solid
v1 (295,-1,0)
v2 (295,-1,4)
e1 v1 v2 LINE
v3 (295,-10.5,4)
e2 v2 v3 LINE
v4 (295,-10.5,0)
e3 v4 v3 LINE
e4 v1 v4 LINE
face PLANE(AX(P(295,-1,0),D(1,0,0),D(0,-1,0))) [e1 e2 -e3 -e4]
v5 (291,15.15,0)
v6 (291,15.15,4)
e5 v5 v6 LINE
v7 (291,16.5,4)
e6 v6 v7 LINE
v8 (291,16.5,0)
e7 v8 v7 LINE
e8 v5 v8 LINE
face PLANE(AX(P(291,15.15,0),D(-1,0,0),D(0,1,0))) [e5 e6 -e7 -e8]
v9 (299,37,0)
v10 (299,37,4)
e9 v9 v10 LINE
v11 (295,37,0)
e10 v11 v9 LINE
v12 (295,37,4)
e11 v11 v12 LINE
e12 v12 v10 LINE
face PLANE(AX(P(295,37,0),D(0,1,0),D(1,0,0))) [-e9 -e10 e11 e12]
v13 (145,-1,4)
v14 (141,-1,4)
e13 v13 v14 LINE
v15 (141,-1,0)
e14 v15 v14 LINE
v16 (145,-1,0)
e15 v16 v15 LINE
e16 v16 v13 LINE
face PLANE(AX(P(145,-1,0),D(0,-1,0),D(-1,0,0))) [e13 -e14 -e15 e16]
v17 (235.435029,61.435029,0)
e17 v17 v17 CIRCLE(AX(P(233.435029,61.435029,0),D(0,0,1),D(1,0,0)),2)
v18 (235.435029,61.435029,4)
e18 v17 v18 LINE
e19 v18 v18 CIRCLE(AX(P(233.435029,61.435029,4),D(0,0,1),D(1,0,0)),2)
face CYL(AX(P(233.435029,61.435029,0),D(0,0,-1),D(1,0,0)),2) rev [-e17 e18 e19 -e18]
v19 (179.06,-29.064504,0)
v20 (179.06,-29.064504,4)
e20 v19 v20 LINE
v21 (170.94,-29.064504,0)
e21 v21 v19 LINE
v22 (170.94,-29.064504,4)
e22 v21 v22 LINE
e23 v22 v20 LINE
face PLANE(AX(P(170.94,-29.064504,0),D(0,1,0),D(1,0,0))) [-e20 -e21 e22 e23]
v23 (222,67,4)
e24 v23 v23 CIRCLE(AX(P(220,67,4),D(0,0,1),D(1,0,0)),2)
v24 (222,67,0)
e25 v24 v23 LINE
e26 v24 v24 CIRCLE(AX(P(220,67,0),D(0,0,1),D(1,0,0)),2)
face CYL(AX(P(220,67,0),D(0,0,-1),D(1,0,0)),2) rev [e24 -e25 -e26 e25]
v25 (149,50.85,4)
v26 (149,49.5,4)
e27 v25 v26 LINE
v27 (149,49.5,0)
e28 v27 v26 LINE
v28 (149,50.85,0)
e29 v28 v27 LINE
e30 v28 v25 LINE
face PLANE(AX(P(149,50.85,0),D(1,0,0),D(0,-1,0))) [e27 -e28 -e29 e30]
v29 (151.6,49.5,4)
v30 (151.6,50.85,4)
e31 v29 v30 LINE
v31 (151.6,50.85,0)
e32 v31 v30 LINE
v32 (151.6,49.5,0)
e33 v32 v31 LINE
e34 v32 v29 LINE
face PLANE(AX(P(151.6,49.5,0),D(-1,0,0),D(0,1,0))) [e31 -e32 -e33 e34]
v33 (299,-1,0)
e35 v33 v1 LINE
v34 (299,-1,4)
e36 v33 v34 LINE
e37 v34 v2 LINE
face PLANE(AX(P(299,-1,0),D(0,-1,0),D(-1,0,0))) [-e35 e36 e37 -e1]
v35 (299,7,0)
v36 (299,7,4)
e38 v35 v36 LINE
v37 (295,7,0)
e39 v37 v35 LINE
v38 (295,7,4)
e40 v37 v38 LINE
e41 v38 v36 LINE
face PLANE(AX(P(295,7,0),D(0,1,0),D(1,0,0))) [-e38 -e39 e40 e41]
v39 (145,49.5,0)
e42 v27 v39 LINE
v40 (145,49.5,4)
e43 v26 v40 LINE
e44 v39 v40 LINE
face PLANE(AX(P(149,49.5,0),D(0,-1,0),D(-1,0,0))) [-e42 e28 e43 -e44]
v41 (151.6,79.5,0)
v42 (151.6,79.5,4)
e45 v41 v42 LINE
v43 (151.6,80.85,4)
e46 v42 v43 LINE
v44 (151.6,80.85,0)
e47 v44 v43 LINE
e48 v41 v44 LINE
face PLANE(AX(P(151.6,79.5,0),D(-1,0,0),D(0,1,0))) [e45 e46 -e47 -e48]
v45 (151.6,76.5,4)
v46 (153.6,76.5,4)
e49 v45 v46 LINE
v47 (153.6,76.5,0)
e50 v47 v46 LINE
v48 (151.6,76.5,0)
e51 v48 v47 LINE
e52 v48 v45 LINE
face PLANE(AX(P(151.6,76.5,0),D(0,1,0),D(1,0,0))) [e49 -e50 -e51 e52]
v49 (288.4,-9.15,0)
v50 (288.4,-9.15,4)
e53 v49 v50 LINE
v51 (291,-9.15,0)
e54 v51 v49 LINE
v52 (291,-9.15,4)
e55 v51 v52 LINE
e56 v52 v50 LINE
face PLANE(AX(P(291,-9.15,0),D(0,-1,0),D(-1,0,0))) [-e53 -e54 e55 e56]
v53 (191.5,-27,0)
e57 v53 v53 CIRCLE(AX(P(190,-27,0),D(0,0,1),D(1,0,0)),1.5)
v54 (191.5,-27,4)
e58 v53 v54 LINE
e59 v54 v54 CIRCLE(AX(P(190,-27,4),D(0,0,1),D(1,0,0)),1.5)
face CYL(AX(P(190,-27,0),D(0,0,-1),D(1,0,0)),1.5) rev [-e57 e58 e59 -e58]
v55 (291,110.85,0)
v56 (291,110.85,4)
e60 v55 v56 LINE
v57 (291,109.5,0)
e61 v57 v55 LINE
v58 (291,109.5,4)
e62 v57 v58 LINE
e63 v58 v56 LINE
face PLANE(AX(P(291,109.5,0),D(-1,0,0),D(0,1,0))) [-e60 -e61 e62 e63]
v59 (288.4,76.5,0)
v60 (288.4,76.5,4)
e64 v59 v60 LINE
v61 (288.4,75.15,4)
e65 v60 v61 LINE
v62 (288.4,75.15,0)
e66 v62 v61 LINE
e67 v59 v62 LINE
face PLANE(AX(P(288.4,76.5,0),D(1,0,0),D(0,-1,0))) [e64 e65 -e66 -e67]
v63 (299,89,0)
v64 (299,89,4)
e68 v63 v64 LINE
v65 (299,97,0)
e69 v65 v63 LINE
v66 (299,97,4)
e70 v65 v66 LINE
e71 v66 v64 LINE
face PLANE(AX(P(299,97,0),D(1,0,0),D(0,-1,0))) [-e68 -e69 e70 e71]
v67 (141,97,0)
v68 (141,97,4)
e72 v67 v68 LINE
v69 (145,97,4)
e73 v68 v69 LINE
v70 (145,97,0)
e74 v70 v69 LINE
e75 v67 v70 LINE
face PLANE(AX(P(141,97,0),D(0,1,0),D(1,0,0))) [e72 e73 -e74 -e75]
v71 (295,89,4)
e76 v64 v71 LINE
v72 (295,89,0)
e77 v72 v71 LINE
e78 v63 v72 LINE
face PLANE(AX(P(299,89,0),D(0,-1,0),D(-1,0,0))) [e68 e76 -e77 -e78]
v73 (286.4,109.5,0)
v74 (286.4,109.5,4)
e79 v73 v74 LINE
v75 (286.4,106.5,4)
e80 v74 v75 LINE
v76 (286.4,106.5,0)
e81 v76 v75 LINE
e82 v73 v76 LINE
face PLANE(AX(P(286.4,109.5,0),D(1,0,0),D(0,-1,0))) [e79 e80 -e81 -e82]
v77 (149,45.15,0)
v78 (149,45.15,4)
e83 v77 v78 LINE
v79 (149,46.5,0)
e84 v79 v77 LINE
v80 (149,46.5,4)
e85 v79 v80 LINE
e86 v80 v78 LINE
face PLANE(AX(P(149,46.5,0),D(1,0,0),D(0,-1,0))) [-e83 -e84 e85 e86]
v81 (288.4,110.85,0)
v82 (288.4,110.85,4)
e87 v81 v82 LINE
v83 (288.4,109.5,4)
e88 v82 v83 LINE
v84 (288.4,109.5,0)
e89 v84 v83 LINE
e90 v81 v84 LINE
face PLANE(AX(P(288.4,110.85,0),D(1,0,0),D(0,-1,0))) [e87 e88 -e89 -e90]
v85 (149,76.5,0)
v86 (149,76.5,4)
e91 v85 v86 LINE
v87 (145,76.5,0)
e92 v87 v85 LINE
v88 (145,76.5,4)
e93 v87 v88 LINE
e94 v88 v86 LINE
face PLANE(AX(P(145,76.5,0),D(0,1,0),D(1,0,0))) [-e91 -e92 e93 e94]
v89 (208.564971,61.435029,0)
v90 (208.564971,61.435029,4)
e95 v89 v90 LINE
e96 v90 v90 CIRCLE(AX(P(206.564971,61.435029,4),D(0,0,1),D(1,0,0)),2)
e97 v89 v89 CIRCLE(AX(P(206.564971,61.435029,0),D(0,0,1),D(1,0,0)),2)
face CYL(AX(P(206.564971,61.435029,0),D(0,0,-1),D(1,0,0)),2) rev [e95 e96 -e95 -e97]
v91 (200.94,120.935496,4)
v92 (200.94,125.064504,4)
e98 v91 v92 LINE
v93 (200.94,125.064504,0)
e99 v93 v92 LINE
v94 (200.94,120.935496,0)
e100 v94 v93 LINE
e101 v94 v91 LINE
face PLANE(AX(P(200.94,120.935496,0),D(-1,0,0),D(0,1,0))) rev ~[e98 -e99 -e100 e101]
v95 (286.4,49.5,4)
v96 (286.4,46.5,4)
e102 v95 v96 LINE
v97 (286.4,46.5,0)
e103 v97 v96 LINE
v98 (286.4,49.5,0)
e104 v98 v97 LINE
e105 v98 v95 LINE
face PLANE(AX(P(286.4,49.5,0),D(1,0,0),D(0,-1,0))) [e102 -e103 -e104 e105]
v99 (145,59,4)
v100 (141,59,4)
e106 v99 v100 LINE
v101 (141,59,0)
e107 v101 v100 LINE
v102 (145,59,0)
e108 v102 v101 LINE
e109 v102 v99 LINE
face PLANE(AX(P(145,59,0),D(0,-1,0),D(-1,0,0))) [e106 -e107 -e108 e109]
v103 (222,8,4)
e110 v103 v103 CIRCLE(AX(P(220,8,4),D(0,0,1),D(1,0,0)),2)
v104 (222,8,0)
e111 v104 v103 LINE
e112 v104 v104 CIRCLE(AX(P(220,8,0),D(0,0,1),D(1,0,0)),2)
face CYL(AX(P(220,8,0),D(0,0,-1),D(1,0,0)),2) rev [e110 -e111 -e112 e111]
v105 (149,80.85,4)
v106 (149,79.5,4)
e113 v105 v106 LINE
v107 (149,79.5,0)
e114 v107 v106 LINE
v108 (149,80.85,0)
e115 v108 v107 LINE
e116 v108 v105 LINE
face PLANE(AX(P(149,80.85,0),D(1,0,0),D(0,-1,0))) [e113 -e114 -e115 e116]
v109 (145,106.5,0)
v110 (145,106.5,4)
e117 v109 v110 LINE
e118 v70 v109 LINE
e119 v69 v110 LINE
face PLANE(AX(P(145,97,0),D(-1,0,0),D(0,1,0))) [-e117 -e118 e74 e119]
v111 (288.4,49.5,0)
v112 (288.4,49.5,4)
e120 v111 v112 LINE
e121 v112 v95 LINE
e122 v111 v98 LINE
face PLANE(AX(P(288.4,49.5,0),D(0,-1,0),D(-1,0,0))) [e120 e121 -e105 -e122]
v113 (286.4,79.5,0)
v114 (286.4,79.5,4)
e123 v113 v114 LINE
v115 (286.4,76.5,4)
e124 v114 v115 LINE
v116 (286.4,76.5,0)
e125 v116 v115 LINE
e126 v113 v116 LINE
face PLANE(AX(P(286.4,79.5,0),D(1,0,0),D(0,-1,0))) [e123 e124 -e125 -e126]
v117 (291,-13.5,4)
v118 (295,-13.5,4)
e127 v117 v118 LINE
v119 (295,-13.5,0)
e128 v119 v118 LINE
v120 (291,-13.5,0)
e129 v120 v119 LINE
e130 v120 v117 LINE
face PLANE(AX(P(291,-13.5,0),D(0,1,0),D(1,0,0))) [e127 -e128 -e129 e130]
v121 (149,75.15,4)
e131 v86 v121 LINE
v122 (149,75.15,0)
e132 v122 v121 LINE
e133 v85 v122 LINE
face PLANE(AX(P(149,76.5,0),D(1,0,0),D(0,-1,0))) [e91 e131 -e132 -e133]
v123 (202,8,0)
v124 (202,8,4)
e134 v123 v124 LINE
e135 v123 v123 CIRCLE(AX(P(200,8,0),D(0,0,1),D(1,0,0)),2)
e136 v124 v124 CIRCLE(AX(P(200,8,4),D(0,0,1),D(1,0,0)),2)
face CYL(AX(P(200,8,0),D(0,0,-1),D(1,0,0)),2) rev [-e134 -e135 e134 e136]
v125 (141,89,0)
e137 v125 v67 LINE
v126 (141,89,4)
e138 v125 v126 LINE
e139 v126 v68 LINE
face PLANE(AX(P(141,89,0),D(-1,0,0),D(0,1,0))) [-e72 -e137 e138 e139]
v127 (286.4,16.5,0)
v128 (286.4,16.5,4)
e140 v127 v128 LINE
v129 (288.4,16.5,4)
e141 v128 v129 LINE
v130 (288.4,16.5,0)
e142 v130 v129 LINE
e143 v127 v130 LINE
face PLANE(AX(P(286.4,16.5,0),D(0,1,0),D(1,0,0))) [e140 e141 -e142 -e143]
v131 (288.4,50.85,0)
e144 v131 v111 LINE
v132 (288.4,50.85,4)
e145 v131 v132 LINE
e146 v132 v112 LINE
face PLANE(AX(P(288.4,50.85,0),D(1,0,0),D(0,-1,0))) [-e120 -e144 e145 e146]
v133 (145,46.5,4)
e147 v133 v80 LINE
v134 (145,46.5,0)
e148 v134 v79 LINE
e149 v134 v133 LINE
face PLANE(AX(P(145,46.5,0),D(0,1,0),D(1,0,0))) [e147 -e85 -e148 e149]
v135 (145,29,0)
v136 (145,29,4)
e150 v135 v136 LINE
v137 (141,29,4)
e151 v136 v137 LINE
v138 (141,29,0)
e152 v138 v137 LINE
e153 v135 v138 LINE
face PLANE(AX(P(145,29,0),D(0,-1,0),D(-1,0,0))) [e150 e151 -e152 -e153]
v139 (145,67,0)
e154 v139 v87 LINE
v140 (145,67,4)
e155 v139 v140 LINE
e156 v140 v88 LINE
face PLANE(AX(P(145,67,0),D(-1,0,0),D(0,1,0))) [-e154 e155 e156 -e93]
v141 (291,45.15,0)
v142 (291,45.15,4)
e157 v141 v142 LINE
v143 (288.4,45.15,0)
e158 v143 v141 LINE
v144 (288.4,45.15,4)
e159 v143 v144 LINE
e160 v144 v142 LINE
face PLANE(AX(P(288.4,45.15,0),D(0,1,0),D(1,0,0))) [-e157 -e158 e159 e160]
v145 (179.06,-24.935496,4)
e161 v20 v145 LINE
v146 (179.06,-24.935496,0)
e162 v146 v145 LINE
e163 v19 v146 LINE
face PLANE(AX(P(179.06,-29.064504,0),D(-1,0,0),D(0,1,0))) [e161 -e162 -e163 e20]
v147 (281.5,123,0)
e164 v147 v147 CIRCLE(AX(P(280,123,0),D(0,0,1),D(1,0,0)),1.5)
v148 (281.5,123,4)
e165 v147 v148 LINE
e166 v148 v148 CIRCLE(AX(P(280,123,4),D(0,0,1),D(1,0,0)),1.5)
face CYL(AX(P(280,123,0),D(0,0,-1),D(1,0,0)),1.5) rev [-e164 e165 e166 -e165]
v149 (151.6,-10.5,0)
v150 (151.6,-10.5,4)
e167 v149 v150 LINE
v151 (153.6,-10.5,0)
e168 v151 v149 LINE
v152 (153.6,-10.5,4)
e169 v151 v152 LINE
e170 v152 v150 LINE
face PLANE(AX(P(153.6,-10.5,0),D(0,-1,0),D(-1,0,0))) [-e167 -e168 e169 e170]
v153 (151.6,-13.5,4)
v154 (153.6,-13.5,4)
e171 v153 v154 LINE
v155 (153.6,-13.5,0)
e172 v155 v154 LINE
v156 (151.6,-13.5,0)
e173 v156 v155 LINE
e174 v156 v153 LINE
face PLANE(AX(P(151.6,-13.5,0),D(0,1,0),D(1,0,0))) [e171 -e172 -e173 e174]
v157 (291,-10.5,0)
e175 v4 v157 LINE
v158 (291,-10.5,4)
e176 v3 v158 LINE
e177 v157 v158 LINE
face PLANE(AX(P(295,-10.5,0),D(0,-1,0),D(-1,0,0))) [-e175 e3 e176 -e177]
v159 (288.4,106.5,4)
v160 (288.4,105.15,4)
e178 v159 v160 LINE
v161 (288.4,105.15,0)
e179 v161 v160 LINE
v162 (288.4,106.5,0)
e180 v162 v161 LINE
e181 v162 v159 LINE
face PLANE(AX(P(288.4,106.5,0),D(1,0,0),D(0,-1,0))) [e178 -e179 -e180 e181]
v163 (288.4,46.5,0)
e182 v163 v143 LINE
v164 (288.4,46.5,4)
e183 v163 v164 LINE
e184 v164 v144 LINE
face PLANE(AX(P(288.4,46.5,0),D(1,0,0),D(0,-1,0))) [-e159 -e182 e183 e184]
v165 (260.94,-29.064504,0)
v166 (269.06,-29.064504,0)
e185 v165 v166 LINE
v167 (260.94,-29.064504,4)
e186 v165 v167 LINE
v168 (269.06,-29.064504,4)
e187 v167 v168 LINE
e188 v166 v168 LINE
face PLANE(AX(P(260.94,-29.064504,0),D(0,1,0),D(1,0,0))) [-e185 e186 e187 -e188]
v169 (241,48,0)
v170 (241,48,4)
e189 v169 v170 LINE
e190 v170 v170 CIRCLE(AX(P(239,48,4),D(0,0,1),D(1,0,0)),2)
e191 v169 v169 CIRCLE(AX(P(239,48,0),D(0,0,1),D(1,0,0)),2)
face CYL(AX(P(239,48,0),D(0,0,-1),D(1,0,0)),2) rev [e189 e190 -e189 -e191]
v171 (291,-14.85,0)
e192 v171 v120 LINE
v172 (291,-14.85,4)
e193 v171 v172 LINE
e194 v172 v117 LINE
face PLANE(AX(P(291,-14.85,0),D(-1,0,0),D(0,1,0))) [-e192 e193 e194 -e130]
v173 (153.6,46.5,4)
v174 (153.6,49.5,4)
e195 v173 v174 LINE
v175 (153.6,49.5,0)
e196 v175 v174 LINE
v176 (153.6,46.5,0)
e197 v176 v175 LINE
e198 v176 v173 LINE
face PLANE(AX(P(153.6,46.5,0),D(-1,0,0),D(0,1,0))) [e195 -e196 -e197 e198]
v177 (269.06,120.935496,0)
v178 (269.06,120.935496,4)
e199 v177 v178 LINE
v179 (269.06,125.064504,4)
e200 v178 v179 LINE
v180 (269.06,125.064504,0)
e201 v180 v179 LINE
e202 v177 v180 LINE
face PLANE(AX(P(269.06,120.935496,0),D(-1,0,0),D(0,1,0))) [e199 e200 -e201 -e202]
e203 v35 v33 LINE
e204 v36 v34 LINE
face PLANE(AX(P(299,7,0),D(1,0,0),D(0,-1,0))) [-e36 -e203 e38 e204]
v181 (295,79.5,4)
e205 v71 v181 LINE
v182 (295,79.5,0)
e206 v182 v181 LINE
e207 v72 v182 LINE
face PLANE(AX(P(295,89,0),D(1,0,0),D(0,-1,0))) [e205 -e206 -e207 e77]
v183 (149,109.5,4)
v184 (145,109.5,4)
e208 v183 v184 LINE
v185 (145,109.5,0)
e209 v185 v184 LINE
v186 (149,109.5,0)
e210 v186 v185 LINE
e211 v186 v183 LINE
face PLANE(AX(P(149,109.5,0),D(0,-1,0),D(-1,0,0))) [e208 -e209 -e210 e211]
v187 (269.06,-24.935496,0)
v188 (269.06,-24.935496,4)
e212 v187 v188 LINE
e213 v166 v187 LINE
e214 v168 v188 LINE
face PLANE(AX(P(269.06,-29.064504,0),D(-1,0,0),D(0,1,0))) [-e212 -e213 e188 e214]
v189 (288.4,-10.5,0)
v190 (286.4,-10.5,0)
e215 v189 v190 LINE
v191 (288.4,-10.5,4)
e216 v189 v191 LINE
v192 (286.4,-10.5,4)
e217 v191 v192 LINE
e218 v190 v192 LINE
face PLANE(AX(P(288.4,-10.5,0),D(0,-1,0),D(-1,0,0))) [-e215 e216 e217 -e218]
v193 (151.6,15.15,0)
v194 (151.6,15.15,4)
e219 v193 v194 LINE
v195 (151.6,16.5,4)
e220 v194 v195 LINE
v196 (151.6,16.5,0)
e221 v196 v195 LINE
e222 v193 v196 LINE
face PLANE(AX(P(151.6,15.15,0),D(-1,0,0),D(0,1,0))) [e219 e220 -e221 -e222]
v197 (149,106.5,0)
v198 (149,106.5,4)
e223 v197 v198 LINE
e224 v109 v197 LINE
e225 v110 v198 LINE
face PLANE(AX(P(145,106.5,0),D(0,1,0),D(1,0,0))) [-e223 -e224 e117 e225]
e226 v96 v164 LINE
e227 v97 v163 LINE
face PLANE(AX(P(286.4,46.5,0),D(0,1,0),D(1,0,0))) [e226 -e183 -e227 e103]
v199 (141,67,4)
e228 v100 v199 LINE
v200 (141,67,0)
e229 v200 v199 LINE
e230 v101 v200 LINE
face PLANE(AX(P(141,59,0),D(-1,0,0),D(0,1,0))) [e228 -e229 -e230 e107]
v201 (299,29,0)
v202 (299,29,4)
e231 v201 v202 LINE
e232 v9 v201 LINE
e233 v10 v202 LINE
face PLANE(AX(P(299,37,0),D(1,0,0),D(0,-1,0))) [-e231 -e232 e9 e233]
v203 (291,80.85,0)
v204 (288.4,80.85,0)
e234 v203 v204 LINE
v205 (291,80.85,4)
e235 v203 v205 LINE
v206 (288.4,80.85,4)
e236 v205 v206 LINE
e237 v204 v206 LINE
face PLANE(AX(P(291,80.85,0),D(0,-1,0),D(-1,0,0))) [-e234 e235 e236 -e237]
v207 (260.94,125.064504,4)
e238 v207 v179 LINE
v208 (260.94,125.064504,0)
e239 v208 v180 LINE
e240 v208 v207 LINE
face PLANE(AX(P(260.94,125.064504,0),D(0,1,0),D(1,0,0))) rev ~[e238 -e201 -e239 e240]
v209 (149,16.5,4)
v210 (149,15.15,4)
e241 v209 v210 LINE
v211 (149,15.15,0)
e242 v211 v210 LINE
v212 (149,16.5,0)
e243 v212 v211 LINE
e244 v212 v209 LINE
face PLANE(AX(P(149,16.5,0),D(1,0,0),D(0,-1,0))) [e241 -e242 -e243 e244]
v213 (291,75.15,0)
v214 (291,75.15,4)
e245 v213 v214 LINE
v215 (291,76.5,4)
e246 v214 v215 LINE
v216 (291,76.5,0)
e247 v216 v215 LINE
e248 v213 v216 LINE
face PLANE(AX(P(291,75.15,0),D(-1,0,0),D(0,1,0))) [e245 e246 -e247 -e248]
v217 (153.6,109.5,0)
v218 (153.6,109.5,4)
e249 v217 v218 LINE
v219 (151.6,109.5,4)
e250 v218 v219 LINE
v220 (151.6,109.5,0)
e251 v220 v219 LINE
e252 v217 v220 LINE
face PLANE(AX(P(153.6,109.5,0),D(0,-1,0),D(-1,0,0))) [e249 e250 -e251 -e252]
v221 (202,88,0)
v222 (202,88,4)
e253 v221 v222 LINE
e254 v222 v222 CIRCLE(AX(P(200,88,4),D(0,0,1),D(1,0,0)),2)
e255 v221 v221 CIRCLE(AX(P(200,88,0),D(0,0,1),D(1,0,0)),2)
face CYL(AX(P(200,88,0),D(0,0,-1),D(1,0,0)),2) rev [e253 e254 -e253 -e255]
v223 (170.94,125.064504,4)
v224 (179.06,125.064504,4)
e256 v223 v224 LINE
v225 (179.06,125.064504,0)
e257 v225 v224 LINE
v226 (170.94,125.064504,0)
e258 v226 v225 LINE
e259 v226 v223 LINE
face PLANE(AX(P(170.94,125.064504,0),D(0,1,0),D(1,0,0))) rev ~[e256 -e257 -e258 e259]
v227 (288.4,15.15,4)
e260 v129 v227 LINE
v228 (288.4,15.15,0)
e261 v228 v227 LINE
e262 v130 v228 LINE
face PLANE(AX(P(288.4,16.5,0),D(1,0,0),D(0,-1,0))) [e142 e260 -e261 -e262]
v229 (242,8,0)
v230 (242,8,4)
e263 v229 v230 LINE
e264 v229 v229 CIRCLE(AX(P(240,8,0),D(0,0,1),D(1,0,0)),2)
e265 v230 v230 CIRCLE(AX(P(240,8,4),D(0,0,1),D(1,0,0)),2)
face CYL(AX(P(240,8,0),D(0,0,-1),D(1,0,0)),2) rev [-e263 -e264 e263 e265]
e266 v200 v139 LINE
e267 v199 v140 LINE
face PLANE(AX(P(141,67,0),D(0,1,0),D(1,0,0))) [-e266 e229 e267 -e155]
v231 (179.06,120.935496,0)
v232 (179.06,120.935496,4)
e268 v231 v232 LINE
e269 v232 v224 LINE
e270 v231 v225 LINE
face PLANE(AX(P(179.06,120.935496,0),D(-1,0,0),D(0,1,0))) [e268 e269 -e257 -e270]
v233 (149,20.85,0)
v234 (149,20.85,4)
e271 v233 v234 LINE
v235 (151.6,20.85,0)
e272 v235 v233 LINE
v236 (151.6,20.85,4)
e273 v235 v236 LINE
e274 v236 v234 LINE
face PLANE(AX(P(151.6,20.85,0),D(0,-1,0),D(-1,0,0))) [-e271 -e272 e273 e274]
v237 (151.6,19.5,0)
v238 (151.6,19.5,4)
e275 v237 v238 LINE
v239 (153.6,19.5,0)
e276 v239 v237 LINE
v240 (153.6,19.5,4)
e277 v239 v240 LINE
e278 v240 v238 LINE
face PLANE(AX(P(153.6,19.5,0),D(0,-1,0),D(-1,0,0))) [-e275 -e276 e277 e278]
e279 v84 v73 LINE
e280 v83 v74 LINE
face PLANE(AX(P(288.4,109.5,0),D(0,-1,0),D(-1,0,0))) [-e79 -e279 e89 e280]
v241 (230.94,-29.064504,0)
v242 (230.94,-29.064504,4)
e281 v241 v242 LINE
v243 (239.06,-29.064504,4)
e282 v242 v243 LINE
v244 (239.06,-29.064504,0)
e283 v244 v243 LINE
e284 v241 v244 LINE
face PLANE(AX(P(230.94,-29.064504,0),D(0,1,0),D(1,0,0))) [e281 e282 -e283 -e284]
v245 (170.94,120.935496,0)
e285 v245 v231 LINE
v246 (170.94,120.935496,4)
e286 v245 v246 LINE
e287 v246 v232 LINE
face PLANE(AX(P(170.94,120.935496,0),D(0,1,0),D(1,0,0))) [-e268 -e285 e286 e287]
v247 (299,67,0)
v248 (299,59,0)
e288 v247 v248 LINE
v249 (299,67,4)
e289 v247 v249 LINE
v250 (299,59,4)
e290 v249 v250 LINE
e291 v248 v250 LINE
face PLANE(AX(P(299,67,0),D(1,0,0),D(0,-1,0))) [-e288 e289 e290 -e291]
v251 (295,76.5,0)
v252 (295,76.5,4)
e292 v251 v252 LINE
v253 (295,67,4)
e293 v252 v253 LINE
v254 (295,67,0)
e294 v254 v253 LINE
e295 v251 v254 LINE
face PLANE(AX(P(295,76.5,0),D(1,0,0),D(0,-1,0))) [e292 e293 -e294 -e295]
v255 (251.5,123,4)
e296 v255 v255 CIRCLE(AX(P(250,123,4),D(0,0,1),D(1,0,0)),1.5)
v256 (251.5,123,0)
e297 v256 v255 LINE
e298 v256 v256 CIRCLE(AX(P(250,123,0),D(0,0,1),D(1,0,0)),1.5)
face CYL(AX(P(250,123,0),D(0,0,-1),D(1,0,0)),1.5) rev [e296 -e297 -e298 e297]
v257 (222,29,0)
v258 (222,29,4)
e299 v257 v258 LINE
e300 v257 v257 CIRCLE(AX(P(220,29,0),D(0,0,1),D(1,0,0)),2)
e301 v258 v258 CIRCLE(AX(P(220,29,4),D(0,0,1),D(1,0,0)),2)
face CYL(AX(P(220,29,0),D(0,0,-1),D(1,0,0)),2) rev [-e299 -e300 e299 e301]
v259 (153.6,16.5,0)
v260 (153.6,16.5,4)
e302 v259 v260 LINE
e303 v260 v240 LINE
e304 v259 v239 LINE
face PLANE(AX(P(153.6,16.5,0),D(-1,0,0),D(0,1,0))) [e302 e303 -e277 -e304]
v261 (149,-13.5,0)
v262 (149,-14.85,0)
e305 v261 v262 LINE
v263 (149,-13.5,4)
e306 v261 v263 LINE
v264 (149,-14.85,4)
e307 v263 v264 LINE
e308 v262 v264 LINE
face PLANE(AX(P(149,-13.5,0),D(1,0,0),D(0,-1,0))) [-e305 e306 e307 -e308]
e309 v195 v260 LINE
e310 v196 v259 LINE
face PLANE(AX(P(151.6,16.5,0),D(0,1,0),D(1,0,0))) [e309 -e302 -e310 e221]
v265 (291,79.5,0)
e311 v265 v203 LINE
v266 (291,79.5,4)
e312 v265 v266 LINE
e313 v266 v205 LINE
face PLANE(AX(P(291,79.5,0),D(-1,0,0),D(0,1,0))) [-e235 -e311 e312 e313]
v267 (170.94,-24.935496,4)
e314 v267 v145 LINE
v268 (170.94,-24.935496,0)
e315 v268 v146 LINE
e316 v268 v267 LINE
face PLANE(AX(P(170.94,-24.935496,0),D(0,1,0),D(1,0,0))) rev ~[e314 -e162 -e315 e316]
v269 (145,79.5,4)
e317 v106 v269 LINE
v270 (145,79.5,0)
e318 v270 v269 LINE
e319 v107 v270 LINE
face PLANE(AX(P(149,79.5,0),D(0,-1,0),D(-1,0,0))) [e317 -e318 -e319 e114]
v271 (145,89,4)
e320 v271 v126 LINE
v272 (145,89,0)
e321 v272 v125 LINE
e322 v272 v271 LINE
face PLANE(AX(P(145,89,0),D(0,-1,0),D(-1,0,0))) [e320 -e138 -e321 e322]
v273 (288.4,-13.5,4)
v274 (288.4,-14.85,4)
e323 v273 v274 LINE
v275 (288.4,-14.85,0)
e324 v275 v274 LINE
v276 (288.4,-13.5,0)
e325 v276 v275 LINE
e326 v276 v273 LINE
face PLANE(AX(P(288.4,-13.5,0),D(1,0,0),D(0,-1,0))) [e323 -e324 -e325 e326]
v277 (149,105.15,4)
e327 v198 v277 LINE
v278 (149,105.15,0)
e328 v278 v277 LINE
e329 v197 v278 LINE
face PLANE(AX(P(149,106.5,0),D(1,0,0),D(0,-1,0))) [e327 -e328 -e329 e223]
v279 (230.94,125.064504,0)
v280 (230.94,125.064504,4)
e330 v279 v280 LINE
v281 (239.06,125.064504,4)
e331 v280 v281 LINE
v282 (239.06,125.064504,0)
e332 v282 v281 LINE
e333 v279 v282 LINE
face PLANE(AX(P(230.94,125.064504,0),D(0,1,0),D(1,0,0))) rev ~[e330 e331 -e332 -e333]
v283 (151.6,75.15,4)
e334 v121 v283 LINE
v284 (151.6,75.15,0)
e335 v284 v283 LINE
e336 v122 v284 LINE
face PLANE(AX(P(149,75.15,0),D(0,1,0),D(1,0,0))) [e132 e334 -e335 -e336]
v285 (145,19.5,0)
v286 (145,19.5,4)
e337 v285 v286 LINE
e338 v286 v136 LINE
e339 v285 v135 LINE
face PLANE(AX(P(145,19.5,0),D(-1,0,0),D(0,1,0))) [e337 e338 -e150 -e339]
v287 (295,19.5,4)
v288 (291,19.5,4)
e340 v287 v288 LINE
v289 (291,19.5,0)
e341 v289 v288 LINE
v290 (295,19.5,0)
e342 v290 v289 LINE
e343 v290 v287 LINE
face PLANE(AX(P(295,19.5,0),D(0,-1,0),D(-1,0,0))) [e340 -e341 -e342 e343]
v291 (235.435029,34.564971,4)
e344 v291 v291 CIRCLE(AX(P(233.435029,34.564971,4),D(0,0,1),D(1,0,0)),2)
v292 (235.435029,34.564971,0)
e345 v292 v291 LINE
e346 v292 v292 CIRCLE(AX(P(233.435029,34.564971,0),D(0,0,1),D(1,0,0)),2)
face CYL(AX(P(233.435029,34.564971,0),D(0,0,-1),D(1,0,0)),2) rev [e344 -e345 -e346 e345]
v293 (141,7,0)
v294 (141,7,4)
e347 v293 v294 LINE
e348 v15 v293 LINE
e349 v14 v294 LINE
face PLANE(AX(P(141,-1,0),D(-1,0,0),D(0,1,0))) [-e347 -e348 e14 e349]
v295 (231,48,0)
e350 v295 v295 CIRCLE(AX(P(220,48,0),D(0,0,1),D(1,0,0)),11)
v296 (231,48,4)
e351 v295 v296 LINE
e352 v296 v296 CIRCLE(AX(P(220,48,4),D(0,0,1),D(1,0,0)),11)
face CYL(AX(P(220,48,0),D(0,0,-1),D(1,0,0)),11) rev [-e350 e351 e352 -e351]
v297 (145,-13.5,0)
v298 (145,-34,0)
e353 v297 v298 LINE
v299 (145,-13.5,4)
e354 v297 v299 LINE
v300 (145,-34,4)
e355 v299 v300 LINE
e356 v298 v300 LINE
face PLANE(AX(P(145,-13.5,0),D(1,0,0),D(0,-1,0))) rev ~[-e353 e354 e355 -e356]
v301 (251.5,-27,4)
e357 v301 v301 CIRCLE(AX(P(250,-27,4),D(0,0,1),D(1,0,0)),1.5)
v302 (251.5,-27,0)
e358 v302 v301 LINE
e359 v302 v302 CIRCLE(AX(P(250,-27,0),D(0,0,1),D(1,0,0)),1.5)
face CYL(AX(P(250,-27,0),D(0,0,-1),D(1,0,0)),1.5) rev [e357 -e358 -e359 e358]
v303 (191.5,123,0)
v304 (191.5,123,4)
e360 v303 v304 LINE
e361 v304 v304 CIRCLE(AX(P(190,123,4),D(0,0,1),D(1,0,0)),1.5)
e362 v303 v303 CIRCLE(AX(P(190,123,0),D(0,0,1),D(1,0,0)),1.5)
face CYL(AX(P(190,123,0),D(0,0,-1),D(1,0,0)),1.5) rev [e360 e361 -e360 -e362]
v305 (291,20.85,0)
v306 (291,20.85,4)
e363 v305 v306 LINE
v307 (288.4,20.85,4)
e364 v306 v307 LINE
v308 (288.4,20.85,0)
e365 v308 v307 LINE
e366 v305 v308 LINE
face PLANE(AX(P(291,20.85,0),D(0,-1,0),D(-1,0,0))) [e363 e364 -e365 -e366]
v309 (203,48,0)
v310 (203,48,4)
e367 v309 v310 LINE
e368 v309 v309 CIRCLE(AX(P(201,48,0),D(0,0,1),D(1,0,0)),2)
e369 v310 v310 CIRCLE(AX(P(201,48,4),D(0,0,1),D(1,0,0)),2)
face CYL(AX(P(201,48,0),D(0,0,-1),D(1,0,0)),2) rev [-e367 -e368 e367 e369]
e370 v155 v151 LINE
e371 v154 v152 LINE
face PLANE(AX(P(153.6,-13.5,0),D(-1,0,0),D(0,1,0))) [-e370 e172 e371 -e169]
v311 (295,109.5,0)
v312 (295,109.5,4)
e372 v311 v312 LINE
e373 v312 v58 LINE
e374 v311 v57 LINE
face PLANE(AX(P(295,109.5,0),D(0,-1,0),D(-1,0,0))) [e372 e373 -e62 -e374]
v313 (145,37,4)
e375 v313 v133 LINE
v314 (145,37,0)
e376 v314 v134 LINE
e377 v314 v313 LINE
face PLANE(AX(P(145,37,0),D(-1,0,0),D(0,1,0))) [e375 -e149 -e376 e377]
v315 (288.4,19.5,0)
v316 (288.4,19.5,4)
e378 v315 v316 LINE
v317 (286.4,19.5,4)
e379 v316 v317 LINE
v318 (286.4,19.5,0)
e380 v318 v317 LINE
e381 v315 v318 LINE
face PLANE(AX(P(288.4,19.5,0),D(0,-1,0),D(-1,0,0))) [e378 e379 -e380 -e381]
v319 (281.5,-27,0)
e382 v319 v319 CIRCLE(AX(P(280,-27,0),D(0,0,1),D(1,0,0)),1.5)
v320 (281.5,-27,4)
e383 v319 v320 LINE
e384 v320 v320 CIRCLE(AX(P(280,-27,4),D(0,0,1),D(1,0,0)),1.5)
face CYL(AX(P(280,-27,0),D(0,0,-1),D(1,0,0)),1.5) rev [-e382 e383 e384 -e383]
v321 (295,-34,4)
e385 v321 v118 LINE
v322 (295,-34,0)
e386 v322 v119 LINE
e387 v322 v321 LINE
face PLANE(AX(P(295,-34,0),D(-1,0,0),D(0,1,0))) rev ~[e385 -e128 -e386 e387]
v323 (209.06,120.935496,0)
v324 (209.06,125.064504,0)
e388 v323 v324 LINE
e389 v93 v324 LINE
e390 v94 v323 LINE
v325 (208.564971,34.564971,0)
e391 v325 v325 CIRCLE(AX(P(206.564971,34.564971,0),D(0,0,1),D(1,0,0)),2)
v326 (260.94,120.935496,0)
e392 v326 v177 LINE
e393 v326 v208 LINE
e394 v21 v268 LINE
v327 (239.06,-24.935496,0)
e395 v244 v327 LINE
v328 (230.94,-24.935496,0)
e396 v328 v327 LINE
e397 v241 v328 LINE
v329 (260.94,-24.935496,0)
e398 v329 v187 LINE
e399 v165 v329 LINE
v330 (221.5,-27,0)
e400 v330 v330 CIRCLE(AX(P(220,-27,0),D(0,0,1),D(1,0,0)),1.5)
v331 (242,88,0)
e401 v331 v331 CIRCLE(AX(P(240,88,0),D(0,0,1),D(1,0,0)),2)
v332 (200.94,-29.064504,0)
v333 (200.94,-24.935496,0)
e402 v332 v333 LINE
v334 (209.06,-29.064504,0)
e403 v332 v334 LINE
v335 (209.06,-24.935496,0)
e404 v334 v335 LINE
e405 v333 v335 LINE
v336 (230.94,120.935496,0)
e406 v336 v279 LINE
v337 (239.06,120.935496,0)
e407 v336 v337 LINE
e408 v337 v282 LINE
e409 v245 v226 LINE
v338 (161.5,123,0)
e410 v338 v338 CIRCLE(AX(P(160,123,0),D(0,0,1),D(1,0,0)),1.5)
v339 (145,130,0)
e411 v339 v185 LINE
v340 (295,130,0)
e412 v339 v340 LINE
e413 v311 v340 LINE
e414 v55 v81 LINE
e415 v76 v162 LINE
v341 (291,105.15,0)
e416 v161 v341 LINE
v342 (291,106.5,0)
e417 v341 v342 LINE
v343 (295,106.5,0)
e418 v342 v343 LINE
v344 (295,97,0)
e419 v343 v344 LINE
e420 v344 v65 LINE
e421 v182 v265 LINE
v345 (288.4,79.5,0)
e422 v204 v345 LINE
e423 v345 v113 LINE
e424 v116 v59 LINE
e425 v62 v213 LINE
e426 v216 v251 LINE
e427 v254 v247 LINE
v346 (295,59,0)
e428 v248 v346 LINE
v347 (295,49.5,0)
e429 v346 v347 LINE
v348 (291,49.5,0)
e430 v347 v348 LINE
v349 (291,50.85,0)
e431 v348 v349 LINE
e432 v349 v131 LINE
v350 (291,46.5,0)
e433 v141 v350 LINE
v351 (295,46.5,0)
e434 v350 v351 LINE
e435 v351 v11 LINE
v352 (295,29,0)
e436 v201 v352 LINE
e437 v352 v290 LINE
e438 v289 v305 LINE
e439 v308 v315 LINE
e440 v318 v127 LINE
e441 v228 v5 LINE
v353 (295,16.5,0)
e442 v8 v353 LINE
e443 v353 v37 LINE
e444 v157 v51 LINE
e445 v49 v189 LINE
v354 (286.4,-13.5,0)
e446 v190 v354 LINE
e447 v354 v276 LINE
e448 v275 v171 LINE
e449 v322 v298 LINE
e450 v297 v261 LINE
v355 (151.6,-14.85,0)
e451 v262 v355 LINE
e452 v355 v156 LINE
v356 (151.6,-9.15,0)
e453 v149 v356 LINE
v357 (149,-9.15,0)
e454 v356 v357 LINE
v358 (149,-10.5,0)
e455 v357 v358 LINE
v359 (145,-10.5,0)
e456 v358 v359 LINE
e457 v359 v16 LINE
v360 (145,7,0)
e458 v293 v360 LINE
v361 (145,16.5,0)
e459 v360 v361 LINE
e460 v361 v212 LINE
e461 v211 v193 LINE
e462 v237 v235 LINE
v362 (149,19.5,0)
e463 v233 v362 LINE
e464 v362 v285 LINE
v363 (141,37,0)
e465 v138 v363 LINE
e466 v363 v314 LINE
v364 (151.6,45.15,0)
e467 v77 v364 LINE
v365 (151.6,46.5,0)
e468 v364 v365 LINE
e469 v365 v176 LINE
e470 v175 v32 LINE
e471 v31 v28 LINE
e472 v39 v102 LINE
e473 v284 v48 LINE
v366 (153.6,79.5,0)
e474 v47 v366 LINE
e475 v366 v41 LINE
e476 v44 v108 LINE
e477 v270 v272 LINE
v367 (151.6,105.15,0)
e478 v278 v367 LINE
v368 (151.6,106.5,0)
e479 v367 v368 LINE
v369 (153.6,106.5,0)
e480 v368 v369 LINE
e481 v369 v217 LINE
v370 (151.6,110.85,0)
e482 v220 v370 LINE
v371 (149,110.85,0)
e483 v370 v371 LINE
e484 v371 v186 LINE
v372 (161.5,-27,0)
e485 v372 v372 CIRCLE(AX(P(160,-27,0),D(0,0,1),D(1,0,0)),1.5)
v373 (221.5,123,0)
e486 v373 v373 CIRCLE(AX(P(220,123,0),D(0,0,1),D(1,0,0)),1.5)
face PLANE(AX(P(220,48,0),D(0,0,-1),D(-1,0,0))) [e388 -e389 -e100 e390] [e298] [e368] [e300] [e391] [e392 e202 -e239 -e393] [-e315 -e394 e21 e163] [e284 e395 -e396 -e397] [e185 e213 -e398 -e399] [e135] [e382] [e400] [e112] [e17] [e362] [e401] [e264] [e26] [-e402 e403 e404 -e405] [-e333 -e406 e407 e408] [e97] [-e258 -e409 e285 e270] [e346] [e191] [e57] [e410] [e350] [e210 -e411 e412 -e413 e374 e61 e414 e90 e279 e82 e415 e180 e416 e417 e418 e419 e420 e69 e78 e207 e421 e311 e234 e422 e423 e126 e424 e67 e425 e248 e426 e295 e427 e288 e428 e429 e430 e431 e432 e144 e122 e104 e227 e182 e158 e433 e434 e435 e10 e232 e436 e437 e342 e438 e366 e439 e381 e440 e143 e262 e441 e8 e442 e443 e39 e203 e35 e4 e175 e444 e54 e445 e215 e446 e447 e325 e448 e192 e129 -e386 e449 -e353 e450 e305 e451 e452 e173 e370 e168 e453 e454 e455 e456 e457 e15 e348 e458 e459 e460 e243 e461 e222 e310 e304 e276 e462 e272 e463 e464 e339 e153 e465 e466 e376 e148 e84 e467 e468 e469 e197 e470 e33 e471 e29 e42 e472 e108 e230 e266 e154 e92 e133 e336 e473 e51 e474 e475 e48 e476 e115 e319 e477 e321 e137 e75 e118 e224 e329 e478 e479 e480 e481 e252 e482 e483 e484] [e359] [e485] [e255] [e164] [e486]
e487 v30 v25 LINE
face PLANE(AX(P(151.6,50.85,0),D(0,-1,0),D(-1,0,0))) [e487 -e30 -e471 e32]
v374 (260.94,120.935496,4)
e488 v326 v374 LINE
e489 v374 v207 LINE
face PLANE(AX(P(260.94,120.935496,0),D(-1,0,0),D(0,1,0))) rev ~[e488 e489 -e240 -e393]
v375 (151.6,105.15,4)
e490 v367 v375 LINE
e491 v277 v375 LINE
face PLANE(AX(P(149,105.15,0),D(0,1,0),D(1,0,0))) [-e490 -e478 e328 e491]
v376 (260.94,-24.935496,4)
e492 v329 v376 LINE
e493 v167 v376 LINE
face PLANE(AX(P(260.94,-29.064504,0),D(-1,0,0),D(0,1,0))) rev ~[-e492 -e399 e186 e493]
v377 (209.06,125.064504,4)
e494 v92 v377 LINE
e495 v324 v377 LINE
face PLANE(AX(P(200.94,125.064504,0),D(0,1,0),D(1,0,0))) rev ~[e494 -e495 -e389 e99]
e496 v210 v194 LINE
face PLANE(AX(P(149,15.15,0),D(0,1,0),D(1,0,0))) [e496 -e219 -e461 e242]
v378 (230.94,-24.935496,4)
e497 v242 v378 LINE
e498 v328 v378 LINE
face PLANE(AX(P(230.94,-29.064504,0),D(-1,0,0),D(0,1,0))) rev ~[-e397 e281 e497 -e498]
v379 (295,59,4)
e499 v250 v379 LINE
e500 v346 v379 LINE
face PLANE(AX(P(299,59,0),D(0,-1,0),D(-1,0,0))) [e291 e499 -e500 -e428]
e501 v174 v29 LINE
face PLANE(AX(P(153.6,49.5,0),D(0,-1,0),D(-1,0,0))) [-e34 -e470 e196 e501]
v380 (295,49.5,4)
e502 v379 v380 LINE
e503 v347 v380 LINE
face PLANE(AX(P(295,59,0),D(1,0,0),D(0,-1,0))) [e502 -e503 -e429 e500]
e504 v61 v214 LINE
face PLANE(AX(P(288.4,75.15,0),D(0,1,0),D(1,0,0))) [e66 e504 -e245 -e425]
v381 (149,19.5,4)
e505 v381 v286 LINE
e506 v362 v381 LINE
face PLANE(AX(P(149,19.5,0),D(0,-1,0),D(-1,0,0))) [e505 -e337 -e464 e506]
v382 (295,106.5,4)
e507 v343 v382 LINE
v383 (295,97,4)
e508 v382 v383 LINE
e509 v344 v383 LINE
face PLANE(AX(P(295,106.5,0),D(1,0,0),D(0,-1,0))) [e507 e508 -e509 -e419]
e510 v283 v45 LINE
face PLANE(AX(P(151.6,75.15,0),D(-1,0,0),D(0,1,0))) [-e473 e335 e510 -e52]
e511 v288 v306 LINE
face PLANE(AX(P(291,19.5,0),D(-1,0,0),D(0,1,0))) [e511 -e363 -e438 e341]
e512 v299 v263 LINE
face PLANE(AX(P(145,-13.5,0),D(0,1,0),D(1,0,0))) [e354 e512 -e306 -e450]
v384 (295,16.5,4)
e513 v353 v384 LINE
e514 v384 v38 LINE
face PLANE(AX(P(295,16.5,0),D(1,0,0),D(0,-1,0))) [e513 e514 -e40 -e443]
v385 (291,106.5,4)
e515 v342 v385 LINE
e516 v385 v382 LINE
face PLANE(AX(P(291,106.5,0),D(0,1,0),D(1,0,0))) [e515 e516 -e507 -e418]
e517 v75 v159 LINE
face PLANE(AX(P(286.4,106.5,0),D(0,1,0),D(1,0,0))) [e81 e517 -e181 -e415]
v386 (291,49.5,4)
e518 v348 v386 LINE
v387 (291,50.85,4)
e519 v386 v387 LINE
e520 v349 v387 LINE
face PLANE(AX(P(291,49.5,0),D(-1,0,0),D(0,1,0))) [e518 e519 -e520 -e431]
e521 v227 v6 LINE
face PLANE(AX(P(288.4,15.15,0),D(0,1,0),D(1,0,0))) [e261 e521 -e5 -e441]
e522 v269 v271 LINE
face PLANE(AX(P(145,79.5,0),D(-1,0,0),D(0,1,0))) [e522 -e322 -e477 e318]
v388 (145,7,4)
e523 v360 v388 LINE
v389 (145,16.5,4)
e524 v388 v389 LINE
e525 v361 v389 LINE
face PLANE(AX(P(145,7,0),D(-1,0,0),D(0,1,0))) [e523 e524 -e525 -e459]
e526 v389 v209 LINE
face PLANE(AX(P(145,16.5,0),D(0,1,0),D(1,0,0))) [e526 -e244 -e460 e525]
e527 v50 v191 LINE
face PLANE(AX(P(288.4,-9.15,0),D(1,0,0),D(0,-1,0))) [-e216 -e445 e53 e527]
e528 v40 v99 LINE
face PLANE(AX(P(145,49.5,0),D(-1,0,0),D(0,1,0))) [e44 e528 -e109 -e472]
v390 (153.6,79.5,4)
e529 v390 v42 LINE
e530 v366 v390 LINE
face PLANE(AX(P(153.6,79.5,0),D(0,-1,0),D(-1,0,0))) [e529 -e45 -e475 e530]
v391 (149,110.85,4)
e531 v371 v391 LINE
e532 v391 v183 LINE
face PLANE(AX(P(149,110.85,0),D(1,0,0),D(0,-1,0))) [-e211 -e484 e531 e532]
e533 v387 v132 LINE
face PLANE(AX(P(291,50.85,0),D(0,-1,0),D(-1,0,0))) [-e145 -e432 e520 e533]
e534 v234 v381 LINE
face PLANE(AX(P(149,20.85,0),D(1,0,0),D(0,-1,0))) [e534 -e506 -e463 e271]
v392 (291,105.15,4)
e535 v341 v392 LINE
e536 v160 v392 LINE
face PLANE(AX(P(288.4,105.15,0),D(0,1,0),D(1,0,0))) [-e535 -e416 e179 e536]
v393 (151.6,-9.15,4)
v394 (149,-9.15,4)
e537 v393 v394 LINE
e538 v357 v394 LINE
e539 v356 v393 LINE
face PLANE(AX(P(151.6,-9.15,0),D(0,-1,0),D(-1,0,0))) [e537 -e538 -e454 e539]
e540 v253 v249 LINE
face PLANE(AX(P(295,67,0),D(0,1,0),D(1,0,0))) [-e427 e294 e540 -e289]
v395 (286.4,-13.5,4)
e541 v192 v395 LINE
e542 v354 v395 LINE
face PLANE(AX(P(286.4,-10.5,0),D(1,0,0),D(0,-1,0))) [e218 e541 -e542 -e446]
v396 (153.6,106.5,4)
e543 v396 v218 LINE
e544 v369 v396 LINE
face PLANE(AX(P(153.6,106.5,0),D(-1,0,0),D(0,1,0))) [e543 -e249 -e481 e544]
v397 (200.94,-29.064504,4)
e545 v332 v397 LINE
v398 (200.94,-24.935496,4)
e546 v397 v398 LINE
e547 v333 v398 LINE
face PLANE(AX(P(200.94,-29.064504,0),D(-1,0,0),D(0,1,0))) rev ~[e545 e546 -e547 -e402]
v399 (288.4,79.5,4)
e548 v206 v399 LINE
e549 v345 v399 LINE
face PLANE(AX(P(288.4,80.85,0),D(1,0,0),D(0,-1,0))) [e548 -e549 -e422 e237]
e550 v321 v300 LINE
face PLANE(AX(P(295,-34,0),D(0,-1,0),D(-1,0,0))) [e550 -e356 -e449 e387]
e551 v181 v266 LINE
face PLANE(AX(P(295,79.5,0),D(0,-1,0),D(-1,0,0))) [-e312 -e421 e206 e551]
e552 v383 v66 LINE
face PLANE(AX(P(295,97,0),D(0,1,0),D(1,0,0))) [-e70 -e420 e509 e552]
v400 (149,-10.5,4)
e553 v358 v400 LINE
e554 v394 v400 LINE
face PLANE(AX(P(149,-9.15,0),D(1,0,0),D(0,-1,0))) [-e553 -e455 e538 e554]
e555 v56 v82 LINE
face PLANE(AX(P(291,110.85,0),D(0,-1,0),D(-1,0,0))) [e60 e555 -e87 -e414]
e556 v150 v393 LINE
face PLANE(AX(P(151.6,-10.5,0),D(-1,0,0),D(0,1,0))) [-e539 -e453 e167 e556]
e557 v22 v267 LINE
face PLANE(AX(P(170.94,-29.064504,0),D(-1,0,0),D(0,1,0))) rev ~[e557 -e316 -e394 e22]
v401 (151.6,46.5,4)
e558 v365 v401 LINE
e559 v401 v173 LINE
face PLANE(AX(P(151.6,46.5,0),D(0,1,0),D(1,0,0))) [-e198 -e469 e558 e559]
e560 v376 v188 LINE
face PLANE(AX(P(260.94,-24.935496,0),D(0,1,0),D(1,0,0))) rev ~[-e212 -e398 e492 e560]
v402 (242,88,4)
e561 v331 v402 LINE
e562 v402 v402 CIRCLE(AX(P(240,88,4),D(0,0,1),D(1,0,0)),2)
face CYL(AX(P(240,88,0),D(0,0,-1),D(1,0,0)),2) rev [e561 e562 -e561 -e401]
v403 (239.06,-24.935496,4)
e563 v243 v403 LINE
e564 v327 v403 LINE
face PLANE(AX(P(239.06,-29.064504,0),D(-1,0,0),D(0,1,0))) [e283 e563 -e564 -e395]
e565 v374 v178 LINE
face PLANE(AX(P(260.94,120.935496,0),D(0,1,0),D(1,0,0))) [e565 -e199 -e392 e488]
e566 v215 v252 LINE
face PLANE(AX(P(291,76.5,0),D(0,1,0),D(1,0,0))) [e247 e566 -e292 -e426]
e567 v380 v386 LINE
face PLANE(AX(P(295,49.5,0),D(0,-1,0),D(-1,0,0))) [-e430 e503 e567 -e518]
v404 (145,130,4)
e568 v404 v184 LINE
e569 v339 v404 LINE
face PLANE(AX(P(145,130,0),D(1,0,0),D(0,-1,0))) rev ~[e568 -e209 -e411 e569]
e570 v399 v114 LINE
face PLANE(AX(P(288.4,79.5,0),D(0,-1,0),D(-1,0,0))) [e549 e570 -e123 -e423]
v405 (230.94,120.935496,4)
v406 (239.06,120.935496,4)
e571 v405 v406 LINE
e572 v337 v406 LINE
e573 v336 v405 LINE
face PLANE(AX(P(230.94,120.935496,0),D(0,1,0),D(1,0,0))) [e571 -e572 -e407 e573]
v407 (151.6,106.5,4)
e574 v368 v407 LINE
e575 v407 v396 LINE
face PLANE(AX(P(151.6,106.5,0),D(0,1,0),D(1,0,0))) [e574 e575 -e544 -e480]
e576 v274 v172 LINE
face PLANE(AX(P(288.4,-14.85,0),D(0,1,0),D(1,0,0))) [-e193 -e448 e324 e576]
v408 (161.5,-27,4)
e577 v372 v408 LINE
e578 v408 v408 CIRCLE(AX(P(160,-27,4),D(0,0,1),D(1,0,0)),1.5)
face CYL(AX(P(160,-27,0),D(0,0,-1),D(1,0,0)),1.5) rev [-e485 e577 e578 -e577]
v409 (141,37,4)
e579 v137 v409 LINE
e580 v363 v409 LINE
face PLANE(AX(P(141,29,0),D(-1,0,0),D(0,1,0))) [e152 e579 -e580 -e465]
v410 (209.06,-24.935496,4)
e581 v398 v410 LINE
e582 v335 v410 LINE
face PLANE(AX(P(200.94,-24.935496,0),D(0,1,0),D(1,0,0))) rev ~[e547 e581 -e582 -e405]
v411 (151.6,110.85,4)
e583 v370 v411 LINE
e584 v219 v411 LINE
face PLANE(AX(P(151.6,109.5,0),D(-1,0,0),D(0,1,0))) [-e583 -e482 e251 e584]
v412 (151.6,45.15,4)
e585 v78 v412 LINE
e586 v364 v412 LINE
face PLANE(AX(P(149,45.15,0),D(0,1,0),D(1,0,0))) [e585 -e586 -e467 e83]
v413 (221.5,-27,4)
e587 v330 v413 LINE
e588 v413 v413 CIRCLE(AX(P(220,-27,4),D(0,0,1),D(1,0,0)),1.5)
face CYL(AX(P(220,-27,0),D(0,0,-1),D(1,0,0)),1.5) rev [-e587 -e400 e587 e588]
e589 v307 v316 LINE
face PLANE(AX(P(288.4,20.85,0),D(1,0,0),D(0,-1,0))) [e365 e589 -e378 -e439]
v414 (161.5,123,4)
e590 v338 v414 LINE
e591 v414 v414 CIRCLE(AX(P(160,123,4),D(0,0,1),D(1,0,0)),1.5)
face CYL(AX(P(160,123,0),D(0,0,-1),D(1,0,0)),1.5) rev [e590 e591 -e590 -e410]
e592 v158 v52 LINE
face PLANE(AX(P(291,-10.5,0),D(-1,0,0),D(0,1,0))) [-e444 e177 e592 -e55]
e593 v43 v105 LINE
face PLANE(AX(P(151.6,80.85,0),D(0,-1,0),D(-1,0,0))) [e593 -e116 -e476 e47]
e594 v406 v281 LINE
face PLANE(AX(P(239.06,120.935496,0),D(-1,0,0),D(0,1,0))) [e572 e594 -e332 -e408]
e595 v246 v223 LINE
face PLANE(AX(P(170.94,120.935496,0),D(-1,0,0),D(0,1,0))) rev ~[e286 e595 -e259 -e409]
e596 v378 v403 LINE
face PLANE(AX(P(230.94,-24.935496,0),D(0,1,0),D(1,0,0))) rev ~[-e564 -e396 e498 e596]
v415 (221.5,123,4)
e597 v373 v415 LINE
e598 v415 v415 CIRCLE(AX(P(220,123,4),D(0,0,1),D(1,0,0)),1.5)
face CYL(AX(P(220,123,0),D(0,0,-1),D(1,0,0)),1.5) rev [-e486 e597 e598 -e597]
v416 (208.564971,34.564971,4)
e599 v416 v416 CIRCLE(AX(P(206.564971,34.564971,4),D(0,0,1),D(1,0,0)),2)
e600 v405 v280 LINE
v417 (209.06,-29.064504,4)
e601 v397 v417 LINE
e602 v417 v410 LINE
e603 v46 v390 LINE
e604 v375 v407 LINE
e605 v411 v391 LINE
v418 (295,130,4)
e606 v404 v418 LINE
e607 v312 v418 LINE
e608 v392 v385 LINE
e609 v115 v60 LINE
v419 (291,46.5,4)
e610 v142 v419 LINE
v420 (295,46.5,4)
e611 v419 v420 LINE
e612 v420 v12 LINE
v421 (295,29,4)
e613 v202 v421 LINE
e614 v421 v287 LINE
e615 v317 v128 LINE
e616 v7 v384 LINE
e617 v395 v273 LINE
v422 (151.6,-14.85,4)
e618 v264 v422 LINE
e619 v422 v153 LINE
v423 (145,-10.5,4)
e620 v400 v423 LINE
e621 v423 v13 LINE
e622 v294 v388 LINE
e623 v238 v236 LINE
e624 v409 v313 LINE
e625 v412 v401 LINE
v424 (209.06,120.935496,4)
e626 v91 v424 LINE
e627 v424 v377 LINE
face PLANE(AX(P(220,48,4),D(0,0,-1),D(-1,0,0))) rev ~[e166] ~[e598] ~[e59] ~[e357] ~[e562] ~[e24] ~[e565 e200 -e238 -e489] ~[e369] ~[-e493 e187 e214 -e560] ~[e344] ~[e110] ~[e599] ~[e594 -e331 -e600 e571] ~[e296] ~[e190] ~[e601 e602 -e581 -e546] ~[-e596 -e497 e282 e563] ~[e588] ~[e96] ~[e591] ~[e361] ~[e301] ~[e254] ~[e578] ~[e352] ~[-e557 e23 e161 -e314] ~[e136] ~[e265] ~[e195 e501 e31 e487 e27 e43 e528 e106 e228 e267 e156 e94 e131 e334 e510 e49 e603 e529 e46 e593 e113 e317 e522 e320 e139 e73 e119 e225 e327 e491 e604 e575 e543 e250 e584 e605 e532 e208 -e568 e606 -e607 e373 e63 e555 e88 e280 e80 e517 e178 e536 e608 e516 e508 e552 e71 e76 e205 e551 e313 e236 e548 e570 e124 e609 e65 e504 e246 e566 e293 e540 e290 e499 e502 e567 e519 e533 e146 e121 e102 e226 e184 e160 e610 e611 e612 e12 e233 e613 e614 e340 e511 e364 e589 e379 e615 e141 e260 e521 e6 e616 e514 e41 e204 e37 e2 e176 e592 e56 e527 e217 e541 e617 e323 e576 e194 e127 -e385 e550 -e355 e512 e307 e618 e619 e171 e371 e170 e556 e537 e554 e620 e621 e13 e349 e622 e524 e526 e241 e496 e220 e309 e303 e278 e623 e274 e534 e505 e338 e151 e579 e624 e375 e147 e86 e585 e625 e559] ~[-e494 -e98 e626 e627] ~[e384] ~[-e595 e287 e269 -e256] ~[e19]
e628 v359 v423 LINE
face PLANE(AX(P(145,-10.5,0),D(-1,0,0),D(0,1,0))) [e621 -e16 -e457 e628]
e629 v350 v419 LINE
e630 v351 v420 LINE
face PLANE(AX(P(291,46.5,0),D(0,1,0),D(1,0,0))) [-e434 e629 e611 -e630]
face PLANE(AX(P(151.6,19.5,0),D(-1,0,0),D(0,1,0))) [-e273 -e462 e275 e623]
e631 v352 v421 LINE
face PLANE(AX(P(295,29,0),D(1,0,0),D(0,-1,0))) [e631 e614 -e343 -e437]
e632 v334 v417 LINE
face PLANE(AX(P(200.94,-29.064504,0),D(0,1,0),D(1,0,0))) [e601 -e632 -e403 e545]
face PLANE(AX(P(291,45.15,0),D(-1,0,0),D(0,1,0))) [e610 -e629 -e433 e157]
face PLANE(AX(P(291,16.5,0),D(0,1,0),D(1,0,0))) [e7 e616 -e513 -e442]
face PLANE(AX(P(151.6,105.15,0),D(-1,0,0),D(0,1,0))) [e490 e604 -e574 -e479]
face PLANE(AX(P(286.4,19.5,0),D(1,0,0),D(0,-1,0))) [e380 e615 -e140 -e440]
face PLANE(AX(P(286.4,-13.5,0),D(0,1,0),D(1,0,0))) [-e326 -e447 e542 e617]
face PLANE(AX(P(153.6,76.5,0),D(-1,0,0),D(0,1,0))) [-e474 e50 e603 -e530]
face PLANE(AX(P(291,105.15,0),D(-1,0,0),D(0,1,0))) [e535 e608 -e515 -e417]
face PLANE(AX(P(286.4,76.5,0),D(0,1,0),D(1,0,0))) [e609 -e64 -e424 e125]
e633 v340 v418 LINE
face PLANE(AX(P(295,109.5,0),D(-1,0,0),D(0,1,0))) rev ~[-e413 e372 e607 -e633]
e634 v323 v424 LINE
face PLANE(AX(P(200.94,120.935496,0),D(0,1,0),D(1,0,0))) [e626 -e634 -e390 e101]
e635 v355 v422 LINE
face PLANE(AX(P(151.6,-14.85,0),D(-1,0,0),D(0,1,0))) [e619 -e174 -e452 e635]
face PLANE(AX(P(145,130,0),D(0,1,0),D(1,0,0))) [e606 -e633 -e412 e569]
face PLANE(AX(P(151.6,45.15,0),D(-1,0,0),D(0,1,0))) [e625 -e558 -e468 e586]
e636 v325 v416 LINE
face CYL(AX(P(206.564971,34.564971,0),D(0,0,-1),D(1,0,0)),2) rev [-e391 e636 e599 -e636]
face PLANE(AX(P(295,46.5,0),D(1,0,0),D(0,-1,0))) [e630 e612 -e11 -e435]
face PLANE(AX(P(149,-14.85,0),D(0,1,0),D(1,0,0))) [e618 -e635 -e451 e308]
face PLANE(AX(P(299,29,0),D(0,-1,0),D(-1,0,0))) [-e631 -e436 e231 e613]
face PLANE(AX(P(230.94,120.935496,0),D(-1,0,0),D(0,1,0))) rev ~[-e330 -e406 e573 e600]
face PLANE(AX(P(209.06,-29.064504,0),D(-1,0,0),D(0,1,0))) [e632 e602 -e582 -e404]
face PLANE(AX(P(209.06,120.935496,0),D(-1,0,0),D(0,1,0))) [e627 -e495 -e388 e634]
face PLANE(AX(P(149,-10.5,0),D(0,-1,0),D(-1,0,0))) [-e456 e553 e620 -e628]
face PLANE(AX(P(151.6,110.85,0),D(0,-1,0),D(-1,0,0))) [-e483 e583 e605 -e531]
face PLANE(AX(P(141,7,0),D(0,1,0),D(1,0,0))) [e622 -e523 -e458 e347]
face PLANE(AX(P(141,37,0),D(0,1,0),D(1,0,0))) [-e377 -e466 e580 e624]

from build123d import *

# Parameters (mm, degrees)
SKETCH_1_R      = 2
SKETCH_1_R_2    = 11
SKETCH_1_R_3    = 1.5
SKETCH_1_W      = 8.12
SKETCH_1_H      = 4.129008776
EXTRUDE_1_DEPTH = 4


with BuildPart() as part:
    # 草图1 → 凸台-拉伸1 (new body)
    with BuildSketch(Plane.XY):
        Polygon((145, 46.5), (149, 46.5), (149, 45.15), (151.6, 45.15), (151.6, 46.5), (153.6, 46.5), (153.6, 49.5), (151.6, 49.5), (151.6, 50.85), (149, 50.85), (149, 49.5), (145, 49.5), (145, 59), (141, 59), (141, 67), (145, 67), (145, 76.5), (149, 76.5), (149, 75.15), (151.6, 75.15), (151.6, 76.5), (153.6, 76.5), (153.6, 79.5), (151.6, 79.5), (151.6, 80.85), (149, 80.85), (149, 79.5), (145, 79.5), (145, 89), (141, 89), (141, 97), (145, 97), (145, 106.5), (149, 106.5), (149, 105.15), (151.6, 105.15), (151.6, 106.5), (153.6, 106.5), (153.6, 109.5), (151.6, 109.5), (151.6, 110.85), (149, 110.85), (149, 109.5), (145, 109.5), (145, 123), (145, 130), (295, 130), (295, 123), (295, 109.5), (291, 109.5), (291, 110.85), (288.4, 110.85), (288.4, 109.5), (286.4, 109.5), (286.4, 106.5), (288.4, 106.5), (288.4, 105.15), (291, 105.15), (291, 106.5), (295, 106.5), (295, 97), (299, 97), (299, 89), (295, 89), (295, 79.5), (291, 79.5), (291, 80.85), (288.4, 80.85), (288.4, 79.5), (286.4, 79.5), (286.4, 76.5), (288.4, 76.5), (288.4, 75.15), (291, 75.15), (291, 76.5), (295, 76.5), (295, 67), (299, 67), (299, 59), (295, 59), (295, 49.5), (291, 49.5), (291, 50.85), (288.4, 50.85), (288.4, 49.5), (286.4, 49.5), (286.4, 46.5), (288.4, 46.5), (288.4, 45.15), (291, 45.15), (291, 46.5), (295, 46.5), (295, 37), (299, 37), (299, 29), (295, 29), (295, 19.5), (291, 19.5), (291, 20.85), (288.4, 20.85), (288.4, 19.5), (286.4, 19.5), (286.4, 16.5), (288.4, 16.5), (288.4, 15.15), (291, 15.15), (291, 16.5), (295, 16.5), (295, 7), (299, 7), (299, -1), (295, -1), (295, -10.5), (291, -10.5), (291, -9.15), (288.4, -9.15), (288.4, -10.5), (286.4, -10.5), (286.4, -13.5), (288.4, -13.5), (288.4, -14.85), (291, -14.85), (291, -13.5), (295, -13.5), (295, -27), (295, -34), (145, -34), (145, -27), (145, -13.5), (149, -13.5), (149, -14.85), (151.6, -14.85), (151.6, -13.5), (153.6, -13.5), (153.6, -10.5), (151.6, -10.5), (151.6, -9.15), (149, -9.15), (149, -10.5), (145, -10.5), (145, -1), (141, -1), (141, 7), (145, 7), (145, 16.5), (149, 16.5), (149, 15.15), (151.6, 15.15), (151.6, 16.5), (153.6, 16.5), (153.6, 19.5), (151.6, 19.5), (151.6, 20.85), (149, 20.85), (149, 19.5), (145, 19.5), (145, 29), (141, 29), (141, 37), (145, 37), align=None)
        with Locations((220, 29)):
            Circle(SKETCH_1_R, mode=Mode.SUBTRACT)
        with Locations((220, 48)):
            Circle(SKETCH_1_R_2, mode=Mode.SUBTRACT)
        with Locations((206.564971157, 34.564971157)):
            Circle(SKETCH_1_R, mode=Mode.SUBTRACT)
        with Locations((201, 48)):
            Circle(SKETCH_1_R, mode=Mode.SUBTRACT)
        with Locations((206.564971157, 61.435028843)):
            Circle(SKETCH_1_R, mode=Mode.SUBTRACT)
        with Locations((220, 67)):
            Circle(SKETCH_1_R, mode=Mode.SUBTRACT)
        with Locations((233.435028843, 61.435028843)):
            Circle(SKETCH_1_R, mode=Mode.SUBTRACT)
        with Locations((239, 48)):
            Circle(SKETCH_1_R, mode=Mode.SUBTRACT)
        with Locations((233.435028843, 34.564971157)):
            Circle(SKETCH_1_R, mode=Mode.SUBTRACT)
        with Locations((220, 123)):
            Circle(SKETCH_1_R_3, mode=Mode.SUBTRACT)
        with Locations((250, 123)):
            Circle(SKETCH_1_R_3, mode=Mode.SUBTRACT)
        with Locations((280, 123)):
            Circle(SKETCH_1_R_3, mode=Mode.SUBTRACT)
        with Locations((160, 123)):
            Circle(SKETCH_1_R_3, mode=Mode.SUBTRACT)
        with Locations((190, 123)):
            Circle(SKETCH_1_R_3, mode=Mode.SUBTRACT)
        with Locations((190, -27)):
            Circle(SKETCH_1_R_3, mode=Mode.SUBTRACT)
        with Locations((160, -27)):
            Circle(SKETCH_1_R_3, mode=Mode.SUBTRACT)
        with Locations((280, -27)):
            Circle(SKETCH_1_R_3, mode=Mode.SUBTRACT)
        with Locations((250, -27)):
            Circle(SKETCH_1_R_3, mode=Mode.SUBTRACT)
        with Locations((220, -27)):
            Circle(SKETCH_1_R_3, mode=Mode.SUBTRACT)
        with Locations((200, 8)):
            Circle(SKETCH_1_R, mode=Mode.SUBTRACT)
        with Locations((240, 8)):
            Circle(SKETCH_1_R, mode=Mode.SUBTRACT)
        with Locations((240, 88)):
            Circle(SKETCH_1_R, mode=Mode.SUBTRACT)
        with Locations((200, 88)):
            Circle(SKETCH_1_R, mode=Mode.SUBTRACT)
        with Locations((220, 8)):
            Circle(SKETCH_1_R, mode=Mode.SUBTRACT)
        with Locations((205, -27)):
            Rectangle(SKETCH_1_W, SKETCH_1_H, mode=Mode.SUBTRACT)
        with Locations((175, -27)):
            Rectangle(SKETCH_1_W, SKETCH_1_H, mode=Mode.SUBTRACT)
        with Locations((265, -27)):
            Rectangle(SKETCH_1_W, SKETCH_1_H, mode=Mode.SUBTRACT)
        with Locations((235, -27)):
            Rectangle(SKETCH_1_W, SKETCH_1_H, mode=Mode.SUBTRACT)
        with Locations((235, 123)):
            Rectangle(SKETCH_1_W, SKETCH_1_H, mode=Mode.SUBTRACT)
        with Locations((265, 123)):
            Rectangle(SKETCH_1_W, SKETCH_1_H, mode=Mode.SUBTRACT)
        with Locations((175, 123)):
            Rectangle(SKETCH_1_W, SKETCH_1_H, mode=Mode.SUBTRACT)
        with Locations((205, 123)):
            Rectangle(SKETCH_1_W, SKETCH_1_H, mode=Mode.SUBTRACT)
    extrude(amount=EXTRUDE_1_DEPTH)


solid = part.part
